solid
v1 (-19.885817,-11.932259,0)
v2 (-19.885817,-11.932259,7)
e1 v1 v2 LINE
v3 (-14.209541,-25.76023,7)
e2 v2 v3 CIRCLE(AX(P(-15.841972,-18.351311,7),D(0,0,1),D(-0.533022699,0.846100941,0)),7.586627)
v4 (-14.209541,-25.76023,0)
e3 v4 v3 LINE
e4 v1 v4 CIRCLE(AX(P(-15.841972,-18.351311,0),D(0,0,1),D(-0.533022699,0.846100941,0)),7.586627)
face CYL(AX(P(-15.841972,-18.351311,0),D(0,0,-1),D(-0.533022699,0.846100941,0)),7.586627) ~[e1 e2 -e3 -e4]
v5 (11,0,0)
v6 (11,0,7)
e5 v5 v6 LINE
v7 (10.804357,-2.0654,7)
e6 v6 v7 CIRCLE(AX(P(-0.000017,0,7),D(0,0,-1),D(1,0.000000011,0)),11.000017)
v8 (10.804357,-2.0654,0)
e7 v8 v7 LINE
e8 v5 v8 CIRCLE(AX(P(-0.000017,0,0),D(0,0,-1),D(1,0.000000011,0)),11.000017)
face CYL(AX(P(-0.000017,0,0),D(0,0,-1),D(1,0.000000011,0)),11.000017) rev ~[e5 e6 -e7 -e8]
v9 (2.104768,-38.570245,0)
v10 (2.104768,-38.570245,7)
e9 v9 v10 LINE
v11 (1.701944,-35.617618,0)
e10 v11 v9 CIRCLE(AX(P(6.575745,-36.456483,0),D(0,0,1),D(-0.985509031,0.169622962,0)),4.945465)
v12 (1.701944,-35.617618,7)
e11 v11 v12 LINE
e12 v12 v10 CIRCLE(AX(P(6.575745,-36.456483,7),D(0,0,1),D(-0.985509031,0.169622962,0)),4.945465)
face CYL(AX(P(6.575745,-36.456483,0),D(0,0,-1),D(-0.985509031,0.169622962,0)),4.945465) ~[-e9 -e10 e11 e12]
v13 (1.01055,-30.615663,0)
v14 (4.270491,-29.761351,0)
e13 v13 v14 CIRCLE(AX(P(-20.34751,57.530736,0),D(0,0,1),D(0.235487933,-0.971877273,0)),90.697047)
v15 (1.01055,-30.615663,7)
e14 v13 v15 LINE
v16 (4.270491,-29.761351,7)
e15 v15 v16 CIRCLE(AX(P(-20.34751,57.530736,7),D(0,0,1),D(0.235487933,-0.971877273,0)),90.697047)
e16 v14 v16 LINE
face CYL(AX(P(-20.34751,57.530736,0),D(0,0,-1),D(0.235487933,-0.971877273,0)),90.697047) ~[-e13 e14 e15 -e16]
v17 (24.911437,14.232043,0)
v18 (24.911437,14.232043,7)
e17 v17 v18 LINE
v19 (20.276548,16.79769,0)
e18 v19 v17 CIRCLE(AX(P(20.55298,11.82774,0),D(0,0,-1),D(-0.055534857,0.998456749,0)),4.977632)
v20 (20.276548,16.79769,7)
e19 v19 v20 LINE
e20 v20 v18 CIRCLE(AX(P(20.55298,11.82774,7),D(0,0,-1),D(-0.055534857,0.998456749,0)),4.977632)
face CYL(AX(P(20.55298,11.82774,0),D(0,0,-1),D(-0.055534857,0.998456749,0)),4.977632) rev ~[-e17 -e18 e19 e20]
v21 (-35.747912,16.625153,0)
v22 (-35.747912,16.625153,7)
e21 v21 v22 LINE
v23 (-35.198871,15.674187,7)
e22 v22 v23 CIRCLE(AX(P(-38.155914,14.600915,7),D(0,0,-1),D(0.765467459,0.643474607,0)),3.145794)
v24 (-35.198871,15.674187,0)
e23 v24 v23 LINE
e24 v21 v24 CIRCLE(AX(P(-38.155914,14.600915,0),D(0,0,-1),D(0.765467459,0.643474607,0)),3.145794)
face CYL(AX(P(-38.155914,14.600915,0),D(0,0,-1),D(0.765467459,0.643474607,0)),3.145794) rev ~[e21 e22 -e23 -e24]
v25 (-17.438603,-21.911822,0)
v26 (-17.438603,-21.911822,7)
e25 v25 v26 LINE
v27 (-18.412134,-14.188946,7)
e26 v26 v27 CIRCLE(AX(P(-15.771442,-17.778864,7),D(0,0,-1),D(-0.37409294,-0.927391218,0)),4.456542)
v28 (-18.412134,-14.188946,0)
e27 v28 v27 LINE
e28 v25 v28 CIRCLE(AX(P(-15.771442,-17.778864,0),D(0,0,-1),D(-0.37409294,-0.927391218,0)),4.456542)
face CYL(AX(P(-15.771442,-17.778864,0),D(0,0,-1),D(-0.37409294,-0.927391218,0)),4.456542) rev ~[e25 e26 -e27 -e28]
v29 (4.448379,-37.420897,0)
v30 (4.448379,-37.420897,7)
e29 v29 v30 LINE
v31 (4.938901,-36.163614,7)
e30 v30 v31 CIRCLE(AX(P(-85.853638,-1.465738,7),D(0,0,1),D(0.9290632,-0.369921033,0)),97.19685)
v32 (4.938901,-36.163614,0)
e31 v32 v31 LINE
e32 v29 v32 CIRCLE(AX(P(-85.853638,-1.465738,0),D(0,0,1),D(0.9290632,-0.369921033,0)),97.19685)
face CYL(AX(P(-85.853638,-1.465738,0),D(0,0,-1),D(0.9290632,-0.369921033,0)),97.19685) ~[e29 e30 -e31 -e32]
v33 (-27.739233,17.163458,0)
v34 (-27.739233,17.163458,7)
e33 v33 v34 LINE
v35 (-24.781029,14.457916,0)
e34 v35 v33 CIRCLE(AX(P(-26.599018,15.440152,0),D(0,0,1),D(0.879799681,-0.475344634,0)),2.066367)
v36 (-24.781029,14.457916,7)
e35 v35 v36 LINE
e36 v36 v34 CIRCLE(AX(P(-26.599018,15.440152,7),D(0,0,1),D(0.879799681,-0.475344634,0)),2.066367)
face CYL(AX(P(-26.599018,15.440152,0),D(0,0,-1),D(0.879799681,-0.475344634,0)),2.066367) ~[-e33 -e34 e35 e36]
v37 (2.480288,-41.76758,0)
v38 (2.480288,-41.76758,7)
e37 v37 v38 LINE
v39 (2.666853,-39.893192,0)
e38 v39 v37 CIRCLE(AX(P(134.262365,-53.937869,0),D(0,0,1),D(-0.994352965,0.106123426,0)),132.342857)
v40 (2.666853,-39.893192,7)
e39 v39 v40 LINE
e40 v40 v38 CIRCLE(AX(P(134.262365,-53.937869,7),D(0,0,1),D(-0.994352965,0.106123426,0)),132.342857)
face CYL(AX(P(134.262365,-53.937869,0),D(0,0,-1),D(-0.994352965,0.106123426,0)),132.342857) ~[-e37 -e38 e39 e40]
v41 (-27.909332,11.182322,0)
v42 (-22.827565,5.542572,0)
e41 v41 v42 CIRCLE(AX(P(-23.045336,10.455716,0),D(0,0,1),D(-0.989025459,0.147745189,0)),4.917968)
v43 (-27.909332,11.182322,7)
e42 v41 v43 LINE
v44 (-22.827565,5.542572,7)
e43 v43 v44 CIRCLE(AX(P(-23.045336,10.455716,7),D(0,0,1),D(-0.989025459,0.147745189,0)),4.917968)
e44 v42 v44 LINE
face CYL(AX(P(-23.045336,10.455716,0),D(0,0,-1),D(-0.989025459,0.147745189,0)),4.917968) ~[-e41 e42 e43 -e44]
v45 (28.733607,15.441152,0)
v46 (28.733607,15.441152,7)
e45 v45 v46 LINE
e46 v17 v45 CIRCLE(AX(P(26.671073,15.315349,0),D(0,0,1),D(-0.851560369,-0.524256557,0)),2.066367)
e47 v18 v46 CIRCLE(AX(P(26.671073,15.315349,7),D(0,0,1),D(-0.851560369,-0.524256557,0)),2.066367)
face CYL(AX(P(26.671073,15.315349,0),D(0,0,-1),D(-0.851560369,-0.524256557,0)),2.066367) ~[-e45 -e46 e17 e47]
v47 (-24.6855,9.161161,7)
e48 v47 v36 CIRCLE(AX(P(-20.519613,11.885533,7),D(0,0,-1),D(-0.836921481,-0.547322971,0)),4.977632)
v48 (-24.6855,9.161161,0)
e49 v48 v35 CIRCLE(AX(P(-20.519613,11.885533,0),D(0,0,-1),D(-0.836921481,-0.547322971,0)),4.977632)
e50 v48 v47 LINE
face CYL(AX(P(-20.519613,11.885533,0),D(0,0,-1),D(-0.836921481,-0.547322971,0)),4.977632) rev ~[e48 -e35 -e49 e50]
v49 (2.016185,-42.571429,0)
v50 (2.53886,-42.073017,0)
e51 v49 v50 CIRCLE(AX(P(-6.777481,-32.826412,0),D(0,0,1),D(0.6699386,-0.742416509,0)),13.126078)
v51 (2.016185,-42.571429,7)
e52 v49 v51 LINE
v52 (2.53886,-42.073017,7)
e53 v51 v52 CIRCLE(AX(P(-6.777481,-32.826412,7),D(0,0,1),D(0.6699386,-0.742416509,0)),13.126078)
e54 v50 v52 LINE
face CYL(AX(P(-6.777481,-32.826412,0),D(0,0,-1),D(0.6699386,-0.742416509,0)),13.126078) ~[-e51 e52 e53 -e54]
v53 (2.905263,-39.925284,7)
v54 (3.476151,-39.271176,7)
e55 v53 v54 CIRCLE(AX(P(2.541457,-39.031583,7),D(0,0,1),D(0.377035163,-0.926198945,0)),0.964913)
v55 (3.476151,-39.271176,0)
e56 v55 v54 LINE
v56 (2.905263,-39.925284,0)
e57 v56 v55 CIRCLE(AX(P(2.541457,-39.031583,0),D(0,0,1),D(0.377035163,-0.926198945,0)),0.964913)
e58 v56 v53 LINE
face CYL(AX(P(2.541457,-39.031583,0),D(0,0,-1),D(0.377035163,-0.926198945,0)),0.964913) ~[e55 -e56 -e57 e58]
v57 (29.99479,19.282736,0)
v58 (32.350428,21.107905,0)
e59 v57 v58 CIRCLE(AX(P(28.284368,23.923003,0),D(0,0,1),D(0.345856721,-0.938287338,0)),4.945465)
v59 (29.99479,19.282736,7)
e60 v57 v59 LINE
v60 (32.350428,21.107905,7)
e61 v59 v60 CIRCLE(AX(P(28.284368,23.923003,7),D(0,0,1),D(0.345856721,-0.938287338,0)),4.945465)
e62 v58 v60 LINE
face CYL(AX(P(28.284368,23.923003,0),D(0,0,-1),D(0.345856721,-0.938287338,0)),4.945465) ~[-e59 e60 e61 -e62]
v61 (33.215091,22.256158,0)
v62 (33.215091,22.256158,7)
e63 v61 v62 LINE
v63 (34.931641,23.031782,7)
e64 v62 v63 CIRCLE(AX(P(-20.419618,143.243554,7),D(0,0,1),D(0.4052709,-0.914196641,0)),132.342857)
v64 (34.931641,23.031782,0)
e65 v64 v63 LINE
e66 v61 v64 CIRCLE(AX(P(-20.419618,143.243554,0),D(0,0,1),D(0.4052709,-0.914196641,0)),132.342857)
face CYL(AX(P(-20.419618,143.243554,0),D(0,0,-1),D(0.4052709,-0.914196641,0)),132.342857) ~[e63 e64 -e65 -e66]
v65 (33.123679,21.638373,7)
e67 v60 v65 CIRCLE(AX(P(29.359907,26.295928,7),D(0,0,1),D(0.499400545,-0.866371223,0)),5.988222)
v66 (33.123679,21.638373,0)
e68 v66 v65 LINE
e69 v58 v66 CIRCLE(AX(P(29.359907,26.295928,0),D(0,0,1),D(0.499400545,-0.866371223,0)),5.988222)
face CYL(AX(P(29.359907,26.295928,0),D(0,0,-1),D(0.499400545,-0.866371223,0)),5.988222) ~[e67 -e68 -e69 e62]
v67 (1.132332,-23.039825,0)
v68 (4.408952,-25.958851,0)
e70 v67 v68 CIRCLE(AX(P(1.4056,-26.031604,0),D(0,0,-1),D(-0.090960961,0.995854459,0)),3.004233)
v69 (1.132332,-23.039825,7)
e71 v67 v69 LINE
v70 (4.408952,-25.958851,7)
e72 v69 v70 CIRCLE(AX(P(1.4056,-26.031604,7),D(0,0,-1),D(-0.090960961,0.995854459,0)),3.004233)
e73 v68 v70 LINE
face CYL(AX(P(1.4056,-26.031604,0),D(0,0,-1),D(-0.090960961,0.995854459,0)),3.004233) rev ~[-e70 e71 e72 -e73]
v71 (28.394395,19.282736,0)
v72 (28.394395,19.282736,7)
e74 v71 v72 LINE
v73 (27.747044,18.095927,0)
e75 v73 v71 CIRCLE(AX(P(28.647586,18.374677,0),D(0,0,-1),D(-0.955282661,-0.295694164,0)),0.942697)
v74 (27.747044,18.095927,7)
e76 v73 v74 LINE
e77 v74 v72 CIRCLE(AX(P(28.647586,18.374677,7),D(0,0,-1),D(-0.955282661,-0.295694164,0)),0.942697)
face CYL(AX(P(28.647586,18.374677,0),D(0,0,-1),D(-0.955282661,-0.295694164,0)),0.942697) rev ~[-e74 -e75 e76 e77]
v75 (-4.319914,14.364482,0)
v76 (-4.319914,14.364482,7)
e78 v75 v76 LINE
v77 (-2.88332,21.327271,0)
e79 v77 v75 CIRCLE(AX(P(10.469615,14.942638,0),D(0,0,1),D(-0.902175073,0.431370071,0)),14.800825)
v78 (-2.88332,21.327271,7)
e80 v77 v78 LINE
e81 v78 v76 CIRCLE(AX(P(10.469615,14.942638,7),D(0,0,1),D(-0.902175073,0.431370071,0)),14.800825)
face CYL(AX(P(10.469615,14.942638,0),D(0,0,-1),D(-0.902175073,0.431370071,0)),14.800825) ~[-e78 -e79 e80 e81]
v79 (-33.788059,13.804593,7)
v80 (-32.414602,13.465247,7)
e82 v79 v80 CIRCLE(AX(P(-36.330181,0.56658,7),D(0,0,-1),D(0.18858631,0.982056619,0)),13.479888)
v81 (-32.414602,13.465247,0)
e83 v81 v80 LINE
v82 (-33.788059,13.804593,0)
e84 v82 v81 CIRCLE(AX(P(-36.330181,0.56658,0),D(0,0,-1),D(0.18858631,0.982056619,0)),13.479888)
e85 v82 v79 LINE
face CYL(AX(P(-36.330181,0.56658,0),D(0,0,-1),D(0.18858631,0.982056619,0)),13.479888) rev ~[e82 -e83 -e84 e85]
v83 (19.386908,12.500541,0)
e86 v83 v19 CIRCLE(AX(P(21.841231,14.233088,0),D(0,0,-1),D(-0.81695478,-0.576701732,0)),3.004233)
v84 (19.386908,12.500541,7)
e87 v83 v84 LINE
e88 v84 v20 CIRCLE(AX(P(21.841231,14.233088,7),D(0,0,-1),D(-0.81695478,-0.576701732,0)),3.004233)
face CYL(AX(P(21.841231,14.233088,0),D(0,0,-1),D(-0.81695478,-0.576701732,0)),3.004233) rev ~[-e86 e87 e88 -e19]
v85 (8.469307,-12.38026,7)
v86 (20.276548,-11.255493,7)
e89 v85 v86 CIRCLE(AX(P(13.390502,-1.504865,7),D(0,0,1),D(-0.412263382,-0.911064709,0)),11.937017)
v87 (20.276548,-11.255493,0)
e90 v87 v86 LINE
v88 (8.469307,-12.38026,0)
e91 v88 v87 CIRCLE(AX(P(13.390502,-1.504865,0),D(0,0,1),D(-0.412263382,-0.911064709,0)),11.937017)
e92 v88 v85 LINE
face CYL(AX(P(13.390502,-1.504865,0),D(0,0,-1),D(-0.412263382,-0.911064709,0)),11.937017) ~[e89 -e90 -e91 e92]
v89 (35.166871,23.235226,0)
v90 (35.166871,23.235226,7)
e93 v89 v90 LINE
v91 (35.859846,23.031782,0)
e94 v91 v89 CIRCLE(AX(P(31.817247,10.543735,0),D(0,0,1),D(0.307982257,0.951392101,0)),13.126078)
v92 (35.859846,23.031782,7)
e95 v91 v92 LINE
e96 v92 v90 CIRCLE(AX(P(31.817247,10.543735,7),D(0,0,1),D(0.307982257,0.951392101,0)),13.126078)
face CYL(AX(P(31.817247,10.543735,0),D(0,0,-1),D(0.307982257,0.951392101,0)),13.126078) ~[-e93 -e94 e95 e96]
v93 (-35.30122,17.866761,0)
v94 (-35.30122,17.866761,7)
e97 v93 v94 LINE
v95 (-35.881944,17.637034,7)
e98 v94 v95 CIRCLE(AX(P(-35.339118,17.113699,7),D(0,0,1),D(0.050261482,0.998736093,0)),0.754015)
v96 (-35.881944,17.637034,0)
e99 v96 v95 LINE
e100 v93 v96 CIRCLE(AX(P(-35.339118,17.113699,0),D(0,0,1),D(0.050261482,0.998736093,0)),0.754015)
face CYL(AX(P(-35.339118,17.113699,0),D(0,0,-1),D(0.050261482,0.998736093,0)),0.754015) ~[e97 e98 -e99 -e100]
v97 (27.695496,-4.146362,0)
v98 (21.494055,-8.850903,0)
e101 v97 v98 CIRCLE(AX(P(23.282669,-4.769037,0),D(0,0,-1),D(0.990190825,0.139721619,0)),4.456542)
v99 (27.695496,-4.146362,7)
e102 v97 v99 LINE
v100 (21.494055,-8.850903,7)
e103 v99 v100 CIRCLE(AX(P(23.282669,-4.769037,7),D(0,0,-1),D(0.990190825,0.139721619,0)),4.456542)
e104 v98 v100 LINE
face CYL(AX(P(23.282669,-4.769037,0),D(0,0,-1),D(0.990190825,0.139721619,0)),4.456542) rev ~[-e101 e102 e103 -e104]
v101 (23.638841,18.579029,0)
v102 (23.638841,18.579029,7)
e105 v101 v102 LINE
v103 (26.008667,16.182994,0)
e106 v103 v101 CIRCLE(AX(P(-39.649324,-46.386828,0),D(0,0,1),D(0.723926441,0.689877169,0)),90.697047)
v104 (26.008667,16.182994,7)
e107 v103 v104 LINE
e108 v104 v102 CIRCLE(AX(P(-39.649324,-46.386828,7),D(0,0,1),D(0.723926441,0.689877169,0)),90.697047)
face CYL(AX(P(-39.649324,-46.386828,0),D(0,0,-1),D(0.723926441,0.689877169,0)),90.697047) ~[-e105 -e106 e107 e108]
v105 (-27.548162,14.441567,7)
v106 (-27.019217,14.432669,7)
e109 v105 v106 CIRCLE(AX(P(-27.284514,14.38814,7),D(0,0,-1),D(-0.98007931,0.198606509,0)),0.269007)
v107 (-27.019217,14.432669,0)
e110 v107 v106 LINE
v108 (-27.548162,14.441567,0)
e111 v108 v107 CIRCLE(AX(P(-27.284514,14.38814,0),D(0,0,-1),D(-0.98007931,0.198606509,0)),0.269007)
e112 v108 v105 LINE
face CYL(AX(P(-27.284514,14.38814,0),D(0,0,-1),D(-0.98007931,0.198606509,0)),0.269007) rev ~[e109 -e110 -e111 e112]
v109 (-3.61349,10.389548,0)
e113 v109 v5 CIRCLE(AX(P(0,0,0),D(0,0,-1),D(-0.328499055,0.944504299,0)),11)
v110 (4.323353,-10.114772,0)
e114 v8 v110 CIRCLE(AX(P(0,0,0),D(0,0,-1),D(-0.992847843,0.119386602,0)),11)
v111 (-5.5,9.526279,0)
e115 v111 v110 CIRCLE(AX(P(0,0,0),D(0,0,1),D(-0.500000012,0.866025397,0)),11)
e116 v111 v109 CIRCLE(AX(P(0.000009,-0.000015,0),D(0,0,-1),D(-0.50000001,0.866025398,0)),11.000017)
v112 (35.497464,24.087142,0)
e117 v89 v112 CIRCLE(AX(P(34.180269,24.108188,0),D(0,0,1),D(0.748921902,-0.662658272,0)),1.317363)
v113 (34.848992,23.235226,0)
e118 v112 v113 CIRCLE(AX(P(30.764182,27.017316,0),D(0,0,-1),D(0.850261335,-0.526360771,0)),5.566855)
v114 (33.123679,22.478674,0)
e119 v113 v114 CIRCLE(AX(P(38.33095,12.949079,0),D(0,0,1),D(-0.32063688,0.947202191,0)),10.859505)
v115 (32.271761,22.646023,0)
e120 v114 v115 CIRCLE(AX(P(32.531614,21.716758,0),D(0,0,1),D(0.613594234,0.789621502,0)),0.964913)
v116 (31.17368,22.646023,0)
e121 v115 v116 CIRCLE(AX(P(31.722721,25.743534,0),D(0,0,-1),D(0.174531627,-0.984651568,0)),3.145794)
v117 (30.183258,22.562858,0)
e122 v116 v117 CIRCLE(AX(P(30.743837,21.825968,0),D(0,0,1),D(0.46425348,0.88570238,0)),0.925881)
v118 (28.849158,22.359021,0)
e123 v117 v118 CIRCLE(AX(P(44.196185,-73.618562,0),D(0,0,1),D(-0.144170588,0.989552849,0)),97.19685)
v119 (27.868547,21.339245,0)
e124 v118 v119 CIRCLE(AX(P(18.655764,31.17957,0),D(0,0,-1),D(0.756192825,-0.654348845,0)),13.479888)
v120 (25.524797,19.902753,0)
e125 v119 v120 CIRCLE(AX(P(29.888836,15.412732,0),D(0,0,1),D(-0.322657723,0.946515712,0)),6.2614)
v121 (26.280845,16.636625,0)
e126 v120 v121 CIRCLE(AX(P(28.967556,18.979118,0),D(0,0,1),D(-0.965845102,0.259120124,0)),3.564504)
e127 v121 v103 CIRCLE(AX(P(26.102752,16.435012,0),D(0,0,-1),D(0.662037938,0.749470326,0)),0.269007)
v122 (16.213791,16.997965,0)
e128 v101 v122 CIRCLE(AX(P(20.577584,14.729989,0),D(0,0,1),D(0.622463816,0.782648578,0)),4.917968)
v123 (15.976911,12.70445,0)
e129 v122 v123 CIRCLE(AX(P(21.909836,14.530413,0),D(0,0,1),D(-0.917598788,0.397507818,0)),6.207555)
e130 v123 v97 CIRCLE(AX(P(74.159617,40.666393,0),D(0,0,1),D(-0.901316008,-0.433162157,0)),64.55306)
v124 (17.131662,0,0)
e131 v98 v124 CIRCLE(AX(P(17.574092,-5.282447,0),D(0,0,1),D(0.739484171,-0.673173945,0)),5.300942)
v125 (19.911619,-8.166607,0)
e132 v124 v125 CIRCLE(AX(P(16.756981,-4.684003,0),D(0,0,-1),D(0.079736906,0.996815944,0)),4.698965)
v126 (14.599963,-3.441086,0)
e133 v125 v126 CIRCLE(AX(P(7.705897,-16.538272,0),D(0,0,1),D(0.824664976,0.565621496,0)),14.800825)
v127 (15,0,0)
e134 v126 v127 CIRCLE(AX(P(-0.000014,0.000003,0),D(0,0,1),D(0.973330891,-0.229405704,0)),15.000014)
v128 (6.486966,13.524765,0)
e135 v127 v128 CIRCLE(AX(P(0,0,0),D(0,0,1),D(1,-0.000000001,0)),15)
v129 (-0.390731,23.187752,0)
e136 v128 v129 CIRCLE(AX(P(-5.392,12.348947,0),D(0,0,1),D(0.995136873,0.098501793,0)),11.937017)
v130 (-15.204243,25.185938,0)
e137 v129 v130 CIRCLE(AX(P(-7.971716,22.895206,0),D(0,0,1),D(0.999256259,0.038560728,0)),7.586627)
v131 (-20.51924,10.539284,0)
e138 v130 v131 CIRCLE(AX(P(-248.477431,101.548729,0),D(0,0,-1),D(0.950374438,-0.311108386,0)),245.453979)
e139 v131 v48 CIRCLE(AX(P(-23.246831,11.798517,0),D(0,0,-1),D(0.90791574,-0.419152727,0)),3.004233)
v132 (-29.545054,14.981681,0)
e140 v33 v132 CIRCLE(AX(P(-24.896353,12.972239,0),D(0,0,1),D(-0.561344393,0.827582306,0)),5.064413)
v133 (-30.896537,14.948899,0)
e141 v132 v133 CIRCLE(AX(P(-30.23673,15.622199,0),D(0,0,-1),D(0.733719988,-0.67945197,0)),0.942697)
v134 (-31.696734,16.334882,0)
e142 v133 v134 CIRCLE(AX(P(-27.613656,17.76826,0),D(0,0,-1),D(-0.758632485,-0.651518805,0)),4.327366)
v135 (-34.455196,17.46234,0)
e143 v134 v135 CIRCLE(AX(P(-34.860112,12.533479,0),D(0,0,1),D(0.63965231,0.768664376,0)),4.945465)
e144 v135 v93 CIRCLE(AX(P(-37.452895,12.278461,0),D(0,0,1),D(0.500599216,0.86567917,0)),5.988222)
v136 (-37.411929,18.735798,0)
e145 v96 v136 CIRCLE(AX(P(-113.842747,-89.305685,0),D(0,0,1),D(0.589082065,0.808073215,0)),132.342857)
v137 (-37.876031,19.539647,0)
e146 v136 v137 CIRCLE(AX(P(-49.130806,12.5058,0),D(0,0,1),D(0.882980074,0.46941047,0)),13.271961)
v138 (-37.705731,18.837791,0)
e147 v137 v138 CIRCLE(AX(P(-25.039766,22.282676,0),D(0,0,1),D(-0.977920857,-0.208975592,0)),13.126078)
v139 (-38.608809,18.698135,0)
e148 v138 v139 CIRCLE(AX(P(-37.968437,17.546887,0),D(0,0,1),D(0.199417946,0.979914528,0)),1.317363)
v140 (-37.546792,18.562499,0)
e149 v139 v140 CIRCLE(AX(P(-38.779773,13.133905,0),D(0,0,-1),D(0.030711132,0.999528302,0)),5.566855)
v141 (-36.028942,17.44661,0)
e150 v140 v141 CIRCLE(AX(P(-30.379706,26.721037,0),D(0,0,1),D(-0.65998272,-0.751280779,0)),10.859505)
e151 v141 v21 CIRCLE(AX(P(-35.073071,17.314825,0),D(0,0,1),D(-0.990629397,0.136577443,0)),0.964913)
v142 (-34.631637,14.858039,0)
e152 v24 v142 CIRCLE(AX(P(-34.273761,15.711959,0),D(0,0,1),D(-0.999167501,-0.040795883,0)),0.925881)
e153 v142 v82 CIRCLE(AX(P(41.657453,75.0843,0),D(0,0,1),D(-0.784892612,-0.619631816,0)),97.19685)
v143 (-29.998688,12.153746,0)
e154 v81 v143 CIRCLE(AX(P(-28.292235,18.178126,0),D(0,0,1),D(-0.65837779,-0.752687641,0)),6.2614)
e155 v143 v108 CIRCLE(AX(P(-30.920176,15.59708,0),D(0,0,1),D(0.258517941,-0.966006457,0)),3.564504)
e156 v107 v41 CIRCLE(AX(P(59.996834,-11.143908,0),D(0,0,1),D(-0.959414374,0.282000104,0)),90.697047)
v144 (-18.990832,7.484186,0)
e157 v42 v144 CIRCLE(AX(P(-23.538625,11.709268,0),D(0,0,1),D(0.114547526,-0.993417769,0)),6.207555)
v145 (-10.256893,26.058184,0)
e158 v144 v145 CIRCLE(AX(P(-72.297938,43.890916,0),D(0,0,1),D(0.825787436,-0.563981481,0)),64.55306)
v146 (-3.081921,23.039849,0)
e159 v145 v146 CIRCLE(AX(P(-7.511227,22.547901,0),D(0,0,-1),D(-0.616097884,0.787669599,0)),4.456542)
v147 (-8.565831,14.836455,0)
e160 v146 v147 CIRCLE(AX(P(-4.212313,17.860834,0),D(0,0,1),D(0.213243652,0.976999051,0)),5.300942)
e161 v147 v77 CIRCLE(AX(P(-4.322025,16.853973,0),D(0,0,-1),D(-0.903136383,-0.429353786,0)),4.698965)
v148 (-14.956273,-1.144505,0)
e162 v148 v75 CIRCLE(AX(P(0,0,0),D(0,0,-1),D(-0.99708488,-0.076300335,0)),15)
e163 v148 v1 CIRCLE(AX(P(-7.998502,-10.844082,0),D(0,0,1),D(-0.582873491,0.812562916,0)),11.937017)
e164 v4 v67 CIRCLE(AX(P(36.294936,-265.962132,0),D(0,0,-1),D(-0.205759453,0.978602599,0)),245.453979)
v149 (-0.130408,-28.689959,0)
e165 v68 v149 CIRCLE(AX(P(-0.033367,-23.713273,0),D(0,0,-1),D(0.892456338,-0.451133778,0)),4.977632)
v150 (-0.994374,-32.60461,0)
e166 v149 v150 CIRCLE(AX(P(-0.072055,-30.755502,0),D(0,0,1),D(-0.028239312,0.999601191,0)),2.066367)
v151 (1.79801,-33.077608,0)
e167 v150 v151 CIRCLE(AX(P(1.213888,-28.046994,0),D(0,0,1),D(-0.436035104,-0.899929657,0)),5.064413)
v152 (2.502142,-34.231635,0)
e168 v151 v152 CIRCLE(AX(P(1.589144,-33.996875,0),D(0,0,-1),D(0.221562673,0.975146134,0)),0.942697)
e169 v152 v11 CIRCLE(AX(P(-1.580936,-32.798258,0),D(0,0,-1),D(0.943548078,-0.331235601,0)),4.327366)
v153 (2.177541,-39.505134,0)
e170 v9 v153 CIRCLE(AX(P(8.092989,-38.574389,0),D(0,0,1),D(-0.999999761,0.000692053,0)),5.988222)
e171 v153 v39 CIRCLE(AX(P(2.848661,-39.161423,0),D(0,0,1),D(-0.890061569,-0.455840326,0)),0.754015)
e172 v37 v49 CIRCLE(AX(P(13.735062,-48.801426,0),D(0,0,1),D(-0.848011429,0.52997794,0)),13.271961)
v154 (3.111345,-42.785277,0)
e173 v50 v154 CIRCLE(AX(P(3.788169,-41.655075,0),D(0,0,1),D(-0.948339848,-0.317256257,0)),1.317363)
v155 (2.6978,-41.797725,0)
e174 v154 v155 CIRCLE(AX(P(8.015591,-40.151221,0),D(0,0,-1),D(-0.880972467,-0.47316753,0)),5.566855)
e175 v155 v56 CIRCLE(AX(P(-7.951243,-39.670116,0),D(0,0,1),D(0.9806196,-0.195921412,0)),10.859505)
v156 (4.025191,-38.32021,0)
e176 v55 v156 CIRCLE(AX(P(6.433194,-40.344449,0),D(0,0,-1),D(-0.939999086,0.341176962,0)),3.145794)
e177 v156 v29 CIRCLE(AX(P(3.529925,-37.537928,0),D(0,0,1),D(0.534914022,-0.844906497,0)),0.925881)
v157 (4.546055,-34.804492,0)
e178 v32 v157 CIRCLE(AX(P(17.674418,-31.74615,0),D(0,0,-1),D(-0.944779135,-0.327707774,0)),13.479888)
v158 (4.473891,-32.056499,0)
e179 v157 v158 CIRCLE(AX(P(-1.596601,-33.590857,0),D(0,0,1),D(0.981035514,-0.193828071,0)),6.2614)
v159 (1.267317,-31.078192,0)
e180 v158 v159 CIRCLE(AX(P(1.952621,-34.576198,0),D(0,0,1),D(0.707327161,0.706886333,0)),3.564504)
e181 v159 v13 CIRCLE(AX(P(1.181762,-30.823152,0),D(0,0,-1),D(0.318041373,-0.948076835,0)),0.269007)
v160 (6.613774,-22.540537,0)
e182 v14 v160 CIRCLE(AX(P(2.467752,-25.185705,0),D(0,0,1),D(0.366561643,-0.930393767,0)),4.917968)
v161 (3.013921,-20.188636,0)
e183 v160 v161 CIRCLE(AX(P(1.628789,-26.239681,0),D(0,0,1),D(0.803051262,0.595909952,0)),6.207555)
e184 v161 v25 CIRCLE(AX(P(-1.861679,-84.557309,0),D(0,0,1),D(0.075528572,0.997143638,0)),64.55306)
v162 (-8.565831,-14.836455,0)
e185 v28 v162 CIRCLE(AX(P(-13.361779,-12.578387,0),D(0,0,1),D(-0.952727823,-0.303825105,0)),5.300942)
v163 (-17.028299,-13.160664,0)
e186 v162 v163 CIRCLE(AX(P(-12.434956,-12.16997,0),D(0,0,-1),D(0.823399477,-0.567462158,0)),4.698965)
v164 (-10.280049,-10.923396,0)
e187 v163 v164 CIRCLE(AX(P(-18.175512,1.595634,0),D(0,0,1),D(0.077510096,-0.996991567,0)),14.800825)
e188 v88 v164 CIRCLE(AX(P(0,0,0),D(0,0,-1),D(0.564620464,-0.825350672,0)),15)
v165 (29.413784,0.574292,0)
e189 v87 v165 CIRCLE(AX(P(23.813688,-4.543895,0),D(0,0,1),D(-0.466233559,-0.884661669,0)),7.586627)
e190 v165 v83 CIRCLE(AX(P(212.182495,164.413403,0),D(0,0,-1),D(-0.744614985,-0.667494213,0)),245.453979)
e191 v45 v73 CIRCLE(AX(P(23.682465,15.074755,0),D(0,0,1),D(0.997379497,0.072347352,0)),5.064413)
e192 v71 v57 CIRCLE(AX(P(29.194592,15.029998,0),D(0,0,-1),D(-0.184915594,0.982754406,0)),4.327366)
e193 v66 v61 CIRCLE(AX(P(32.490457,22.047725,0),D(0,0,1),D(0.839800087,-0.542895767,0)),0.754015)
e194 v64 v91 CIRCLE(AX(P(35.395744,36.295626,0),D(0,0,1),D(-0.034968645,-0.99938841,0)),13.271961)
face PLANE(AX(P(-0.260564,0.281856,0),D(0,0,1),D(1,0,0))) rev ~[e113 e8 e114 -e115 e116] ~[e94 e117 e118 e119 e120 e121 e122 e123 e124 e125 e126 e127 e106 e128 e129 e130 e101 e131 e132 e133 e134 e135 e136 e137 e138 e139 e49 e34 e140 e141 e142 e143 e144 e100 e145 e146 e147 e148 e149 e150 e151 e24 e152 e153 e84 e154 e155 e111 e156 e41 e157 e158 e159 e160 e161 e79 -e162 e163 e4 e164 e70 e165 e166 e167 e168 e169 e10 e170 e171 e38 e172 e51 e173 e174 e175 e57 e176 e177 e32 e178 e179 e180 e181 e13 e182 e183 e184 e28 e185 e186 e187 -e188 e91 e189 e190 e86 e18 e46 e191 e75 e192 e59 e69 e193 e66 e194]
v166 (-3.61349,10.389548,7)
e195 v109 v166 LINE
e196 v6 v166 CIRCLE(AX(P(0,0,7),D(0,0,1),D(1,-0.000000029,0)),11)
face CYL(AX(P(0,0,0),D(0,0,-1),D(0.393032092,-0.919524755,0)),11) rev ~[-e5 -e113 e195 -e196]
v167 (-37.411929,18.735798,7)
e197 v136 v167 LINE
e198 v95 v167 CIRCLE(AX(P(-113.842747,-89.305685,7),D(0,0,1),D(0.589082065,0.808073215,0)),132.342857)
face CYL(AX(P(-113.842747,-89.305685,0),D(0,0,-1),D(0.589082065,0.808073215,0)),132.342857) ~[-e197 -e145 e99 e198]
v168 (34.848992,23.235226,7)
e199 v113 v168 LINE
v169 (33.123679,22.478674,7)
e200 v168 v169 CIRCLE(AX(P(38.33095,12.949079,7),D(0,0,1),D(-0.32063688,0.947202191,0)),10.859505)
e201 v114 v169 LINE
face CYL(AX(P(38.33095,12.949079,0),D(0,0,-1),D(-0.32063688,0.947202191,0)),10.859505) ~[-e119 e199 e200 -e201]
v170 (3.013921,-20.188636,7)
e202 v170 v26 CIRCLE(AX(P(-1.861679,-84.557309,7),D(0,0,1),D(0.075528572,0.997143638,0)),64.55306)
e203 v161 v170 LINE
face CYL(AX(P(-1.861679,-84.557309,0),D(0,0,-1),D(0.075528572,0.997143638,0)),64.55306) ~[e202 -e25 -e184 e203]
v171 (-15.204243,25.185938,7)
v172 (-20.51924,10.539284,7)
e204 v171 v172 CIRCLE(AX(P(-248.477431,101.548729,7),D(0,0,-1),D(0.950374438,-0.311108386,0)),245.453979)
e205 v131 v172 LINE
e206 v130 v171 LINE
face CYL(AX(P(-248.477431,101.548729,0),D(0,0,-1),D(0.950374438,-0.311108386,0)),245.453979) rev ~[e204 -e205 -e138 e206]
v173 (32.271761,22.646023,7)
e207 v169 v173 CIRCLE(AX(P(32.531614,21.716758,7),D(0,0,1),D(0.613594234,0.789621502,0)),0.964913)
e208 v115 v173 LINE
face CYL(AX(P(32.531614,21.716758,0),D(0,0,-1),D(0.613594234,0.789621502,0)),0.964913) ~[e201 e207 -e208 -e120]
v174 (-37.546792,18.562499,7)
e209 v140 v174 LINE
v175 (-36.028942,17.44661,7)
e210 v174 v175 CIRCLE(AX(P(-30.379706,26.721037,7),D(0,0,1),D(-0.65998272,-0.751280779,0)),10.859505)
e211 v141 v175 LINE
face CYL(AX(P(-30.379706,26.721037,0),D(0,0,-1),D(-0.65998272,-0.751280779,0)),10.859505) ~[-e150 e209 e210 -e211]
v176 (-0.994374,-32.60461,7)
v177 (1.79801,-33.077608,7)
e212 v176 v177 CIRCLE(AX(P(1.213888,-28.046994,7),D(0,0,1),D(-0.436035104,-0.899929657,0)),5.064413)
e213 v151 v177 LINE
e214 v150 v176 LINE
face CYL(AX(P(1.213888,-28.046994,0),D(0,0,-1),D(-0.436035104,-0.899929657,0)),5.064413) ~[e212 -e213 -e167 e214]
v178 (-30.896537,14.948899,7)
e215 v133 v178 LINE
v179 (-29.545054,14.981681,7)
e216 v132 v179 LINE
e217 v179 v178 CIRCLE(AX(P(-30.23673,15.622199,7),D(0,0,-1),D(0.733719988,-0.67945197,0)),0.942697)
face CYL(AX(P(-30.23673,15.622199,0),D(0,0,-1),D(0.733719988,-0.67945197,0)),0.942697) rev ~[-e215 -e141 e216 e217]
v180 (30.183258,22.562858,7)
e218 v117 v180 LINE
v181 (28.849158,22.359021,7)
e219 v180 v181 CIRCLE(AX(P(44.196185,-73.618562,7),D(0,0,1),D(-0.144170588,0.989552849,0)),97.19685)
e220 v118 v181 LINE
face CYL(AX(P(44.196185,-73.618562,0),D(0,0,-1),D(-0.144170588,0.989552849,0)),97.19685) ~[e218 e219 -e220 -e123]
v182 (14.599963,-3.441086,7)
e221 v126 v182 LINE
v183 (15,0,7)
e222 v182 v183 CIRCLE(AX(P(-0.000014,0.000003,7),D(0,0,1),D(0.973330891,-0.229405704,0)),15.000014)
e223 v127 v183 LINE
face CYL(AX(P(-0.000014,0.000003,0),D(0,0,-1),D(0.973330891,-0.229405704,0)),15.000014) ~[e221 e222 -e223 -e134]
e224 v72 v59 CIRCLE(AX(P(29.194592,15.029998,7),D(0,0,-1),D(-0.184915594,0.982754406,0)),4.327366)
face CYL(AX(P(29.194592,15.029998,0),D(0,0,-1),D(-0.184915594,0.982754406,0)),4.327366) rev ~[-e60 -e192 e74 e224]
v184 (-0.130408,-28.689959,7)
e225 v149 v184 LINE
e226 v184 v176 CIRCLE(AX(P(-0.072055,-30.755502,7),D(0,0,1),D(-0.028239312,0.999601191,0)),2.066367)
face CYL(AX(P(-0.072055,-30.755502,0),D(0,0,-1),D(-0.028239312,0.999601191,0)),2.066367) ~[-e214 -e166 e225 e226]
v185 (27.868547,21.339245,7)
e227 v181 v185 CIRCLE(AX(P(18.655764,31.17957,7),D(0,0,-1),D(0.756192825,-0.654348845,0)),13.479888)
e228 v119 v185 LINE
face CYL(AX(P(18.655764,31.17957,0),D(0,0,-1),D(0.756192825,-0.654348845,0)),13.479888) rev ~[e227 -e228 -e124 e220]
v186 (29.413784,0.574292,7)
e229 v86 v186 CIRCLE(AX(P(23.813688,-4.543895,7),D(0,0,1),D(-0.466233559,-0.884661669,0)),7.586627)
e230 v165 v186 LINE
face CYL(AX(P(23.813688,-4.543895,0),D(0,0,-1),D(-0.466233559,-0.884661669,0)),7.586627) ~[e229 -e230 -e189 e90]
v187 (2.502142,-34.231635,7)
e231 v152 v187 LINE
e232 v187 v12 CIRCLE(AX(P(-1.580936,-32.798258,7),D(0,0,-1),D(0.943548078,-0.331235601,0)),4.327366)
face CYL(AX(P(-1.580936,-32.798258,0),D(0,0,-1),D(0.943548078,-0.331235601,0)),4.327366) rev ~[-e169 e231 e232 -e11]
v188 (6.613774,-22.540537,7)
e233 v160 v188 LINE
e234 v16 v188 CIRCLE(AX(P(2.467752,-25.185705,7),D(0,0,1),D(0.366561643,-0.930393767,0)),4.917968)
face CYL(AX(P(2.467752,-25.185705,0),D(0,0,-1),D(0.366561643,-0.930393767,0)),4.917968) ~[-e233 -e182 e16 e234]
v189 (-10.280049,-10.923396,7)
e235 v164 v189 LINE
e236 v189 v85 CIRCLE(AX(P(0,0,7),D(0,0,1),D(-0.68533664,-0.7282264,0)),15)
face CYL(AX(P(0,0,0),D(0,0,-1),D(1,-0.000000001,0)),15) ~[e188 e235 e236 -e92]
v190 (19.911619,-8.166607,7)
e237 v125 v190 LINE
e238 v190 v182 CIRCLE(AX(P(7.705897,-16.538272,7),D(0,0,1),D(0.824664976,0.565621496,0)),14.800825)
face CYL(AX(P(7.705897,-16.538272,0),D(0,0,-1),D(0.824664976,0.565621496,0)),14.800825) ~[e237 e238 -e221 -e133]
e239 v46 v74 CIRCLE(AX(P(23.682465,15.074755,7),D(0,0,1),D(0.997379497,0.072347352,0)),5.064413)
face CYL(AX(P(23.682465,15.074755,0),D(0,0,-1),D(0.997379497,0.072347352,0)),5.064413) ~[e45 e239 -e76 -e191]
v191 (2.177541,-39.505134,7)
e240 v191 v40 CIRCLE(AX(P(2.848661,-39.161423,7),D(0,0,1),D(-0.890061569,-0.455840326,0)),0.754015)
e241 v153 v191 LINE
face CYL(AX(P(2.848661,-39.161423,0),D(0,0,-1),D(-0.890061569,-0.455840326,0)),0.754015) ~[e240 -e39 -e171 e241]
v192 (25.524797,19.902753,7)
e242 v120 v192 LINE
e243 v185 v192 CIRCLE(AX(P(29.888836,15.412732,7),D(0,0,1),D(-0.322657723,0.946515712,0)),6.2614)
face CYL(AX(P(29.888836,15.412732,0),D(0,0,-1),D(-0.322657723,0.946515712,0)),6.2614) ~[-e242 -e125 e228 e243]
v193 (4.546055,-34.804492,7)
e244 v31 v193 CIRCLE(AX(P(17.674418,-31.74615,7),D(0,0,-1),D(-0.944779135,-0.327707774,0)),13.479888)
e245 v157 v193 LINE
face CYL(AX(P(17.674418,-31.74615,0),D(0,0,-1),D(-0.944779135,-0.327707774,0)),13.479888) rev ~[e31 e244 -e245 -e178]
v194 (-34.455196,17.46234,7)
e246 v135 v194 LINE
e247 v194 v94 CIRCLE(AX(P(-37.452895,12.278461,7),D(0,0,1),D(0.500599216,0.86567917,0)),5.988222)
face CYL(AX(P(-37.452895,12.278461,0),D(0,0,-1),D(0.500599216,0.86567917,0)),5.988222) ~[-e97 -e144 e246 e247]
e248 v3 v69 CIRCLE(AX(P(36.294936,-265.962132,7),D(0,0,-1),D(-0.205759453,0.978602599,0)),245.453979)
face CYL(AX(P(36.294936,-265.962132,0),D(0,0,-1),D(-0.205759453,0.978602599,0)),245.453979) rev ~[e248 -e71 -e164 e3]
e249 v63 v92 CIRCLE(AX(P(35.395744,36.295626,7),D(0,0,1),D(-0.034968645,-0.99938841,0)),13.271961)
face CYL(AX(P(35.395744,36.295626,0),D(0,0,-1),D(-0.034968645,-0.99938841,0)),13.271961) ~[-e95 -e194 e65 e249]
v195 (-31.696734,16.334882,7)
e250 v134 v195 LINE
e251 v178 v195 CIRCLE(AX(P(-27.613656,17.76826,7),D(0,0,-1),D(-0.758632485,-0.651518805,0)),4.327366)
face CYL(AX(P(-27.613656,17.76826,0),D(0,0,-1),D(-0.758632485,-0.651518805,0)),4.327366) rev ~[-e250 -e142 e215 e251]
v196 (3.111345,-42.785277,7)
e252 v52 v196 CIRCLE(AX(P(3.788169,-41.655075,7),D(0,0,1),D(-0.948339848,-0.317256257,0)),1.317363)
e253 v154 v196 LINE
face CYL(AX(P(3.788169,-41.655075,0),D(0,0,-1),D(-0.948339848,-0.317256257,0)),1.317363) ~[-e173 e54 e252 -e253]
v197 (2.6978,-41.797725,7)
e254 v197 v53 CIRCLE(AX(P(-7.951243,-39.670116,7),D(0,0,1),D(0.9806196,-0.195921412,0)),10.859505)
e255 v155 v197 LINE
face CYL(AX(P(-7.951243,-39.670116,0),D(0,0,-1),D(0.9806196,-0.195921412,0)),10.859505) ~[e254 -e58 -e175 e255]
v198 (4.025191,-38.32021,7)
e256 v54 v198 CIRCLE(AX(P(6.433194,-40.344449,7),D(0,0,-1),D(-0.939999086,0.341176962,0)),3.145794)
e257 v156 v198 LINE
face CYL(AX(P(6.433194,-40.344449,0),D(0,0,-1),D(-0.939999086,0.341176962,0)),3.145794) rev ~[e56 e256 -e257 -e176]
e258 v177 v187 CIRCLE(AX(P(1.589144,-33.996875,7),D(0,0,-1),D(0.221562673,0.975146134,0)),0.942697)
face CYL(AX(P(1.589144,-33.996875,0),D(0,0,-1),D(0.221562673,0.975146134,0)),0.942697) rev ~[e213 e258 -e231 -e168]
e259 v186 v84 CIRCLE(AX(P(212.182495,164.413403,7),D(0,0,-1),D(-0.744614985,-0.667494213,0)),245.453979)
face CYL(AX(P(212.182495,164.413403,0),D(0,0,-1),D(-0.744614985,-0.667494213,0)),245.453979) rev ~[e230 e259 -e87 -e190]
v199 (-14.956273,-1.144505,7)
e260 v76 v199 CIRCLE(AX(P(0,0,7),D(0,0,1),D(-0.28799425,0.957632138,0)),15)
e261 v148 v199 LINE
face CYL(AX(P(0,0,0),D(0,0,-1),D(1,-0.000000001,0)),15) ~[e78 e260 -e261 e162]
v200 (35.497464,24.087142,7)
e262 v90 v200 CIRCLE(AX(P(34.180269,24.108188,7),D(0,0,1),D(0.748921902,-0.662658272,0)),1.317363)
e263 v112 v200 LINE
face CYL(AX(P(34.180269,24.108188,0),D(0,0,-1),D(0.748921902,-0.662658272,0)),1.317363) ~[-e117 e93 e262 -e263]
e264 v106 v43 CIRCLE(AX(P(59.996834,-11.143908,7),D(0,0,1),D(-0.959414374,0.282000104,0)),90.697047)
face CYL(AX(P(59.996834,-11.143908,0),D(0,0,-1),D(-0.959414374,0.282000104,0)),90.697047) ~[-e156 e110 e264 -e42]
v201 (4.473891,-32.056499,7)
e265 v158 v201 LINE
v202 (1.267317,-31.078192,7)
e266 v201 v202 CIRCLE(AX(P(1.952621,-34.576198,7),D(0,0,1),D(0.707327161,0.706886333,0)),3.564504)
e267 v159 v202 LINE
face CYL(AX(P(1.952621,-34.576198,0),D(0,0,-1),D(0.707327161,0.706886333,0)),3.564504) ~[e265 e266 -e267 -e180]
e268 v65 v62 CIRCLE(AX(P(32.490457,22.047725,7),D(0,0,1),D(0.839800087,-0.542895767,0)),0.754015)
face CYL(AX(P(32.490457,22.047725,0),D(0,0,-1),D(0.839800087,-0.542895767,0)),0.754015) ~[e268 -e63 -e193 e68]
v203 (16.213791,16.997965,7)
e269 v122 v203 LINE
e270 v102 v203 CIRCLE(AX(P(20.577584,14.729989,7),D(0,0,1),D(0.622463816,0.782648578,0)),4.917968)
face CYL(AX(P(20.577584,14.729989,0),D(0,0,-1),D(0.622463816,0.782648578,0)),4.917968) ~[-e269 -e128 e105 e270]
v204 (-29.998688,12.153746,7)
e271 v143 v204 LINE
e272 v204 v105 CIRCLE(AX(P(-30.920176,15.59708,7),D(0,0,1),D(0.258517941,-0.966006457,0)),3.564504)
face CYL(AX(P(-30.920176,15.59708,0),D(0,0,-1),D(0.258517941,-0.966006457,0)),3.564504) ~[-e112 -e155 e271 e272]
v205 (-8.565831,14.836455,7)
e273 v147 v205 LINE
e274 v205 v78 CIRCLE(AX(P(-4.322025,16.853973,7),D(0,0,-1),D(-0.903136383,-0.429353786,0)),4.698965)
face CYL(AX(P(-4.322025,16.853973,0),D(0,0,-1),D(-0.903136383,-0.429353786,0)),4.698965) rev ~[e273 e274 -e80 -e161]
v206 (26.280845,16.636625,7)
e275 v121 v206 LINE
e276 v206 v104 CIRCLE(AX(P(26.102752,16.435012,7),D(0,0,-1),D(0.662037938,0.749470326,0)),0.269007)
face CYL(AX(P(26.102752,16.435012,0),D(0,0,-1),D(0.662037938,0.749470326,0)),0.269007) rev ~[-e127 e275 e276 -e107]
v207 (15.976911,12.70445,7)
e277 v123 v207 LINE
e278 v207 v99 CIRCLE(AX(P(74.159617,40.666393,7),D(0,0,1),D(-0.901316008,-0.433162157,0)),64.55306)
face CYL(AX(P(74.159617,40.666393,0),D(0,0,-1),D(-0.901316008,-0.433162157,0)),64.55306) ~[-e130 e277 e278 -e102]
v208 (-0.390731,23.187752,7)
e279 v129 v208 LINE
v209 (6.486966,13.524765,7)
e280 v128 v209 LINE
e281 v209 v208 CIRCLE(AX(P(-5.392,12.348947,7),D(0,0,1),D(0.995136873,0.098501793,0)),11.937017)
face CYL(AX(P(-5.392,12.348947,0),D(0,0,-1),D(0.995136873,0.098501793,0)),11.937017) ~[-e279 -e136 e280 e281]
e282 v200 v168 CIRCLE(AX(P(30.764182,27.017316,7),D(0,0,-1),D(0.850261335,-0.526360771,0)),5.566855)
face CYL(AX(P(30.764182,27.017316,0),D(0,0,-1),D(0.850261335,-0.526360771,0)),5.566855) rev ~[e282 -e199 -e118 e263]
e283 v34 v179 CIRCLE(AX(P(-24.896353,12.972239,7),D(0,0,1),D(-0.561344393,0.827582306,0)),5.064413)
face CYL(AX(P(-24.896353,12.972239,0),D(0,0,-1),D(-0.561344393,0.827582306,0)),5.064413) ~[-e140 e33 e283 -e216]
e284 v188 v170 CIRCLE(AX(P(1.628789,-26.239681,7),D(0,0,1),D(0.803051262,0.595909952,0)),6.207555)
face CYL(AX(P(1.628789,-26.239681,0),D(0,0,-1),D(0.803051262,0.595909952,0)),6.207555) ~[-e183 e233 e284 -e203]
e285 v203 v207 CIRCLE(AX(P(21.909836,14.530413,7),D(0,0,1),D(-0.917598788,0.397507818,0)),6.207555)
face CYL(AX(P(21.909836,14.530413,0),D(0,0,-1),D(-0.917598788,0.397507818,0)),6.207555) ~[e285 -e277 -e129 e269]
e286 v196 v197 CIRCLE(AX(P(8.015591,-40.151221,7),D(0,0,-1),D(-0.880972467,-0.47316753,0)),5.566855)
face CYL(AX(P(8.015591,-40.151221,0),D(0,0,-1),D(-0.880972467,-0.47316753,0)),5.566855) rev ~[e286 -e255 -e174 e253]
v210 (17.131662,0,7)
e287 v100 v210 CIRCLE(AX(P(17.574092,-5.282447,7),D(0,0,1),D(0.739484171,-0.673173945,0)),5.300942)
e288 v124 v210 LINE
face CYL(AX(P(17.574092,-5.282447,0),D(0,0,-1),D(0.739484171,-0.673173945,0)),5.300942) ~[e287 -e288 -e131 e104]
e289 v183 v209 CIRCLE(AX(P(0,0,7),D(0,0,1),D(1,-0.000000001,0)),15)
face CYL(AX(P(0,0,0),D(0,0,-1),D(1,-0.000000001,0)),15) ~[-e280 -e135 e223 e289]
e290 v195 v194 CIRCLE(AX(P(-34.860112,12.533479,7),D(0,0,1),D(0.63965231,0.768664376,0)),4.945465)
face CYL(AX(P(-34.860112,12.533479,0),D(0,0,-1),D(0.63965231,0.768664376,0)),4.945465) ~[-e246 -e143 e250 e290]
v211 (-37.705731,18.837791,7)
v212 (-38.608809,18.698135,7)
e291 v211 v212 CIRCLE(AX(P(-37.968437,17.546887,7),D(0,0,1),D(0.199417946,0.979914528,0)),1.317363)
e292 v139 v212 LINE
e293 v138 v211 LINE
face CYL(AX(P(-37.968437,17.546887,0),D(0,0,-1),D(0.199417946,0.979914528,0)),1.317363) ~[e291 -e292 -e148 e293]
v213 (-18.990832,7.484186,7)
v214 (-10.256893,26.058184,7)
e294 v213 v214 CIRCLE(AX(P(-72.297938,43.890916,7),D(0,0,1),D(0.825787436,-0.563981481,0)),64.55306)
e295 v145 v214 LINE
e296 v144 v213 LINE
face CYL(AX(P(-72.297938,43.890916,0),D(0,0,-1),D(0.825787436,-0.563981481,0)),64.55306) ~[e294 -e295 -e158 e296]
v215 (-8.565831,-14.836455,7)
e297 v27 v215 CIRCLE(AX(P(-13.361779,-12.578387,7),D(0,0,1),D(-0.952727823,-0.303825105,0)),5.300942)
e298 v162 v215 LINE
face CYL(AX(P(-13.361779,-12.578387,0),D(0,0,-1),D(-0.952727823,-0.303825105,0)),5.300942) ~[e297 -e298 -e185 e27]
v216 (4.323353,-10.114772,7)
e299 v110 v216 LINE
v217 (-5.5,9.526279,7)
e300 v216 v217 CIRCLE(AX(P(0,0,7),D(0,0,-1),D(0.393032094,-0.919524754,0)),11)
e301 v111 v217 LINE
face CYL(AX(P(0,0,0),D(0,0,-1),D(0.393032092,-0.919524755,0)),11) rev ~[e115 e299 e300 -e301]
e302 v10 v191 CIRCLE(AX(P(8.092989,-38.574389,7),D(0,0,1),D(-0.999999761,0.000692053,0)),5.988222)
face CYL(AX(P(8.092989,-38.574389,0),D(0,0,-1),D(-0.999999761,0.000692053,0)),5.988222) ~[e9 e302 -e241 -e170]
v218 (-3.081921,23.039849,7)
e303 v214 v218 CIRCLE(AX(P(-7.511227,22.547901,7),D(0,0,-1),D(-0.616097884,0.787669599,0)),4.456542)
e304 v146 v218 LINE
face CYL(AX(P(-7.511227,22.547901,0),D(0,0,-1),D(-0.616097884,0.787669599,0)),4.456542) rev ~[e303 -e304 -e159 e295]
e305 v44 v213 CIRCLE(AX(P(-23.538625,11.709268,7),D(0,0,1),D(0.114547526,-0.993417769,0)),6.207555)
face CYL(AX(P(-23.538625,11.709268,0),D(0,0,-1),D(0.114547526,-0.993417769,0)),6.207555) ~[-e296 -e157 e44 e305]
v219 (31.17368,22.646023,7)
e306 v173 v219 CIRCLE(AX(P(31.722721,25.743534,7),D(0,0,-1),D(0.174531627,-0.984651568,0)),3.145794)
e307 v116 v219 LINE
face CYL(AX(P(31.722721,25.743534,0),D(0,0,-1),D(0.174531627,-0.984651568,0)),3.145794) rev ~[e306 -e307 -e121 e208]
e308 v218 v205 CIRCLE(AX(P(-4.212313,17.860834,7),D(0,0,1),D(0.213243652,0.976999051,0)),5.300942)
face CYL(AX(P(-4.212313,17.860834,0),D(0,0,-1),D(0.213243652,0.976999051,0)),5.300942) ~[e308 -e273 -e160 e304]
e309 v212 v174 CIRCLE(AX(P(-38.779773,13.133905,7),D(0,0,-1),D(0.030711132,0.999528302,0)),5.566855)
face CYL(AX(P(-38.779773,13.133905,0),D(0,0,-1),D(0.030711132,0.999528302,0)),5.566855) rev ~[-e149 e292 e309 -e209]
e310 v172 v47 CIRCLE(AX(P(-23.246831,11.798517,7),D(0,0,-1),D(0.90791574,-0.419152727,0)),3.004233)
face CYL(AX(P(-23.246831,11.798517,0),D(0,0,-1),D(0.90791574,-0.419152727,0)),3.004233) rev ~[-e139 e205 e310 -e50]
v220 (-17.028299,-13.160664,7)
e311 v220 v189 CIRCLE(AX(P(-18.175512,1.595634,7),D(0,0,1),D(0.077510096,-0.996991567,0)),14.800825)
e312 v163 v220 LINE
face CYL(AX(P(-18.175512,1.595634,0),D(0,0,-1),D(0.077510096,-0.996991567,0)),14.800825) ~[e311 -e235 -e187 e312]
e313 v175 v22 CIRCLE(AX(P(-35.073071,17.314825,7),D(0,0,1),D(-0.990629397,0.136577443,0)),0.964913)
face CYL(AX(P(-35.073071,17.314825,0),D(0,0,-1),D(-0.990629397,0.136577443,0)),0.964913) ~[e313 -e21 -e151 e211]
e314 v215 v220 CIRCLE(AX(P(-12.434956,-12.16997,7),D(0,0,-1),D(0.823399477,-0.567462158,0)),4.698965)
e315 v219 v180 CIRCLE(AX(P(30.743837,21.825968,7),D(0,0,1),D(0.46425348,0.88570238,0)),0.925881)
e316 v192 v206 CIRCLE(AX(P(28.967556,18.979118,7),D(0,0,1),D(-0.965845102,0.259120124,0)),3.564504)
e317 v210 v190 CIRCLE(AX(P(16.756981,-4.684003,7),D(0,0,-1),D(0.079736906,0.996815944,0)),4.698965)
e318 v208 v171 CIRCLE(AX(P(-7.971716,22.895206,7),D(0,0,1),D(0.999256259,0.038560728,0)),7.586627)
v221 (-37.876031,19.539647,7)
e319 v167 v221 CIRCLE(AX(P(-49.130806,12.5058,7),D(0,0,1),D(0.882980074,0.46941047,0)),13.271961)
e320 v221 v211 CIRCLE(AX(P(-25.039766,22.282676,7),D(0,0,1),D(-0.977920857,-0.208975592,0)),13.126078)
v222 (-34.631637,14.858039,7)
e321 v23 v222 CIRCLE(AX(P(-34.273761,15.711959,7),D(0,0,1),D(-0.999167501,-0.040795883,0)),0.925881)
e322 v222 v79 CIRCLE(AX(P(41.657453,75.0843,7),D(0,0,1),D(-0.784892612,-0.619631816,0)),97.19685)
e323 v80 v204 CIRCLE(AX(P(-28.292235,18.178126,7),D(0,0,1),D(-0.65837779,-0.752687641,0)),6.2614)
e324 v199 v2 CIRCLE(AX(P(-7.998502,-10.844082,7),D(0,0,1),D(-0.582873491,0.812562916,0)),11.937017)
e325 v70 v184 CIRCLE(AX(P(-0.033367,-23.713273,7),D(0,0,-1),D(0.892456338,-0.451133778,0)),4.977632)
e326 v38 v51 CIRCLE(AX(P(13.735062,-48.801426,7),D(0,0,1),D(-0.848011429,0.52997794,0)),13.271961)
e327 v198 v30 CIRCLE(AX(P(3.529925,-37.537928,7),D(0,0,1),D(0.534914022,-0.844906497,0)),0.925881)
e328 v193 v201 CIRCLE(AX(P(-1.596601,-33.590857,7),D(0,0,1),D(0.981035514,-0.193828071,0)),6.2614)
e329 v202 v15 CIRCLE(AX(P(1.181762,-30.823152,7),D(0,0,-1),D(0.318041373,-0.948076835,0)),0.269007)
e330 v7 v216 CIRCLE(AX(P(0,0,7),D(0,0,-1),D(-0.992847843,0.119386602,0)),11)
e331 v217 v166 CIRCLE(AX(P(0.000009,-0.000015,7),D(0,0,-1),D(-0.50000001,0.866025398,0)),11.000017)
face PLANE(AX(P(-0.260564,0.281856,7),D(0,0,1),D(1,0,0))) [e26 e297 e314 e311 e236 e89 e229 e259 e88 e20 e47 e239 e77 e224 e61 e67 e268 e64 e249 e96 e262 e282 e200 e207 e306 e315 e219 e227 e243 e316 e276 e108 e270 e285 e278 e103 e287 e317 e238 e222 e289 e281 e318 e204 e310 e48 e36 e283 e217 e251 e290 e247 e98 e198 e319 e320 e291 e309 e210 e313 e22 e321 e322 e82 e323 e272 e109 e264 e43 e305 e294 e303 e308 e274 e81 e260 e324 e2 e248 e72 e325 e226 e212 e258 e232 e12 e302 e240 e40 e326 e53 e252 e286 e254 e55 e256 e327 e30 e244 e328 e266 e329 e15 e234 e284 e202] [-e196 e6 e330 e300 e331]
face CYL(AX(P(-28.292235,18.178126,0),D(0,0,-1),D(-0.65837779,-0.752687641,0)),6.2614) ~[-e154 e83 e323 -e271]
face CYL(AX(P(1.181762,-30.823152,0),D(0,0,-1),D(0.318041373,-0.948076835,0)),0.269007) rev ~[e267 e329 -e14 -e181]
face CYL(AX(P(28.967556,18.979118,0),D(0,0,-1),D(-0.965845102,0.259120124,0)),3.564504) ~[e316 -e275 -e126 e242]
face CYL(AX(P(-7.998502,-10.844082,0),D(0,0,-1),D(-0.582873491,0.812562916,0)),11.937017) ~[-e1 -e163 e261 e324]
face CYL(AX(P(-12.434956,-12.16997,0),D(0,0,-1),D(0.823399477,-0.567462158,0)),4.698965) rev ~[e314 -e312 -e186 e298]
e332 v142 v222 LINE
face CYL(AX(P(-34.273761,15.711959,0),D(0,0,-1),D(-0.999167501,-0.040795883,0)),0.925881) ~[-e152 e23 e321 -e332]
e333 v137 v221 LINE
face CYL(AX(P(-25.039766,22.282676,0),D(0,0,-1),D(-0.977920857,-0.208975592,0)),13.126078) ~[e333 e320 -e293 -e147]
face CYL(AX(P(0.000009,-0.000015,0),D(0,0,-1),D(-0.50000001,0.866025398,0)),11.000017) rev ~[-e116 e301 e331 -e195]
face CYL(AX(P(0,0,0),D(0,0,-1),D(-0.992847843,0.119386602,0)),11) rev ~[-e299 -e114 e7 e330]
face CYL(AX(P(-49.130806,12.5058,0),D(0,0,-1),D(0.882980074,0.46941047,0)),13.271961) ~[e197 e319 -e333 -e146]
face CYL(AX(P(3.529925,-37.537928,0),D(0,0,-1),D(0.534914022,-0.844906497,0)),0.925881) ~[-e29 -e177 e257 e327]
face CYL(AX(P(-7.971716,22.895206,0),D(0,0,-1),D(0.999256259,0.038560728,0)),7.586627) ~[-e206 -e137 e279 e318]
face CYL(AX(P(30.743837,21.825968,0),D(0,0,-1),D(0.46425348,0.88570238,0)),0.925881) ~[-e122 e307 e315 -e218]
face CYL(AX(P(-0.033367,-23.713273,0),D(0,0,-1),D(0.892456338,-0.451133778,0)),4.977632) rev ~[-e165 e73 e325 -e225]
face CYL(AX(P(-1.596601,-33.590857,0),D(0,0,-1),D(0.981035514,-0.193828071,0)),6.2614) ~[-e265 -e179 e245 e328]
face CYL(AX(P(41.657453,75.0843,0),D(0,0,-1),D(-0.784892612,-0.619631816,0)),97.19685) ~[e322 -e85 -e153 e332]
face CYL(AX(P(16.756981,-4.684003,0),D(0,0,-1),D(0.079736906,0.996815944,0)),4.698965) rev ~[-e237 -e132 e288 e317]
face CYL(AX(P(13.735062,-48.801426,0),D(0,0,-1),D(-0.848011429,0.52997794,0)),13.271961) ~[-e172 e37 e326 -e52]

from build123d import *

# Parameters (mm, degrees)
F1_DEPTH = 7
F2_COUNT = 3


with BuildPart() as f1:
    # F0 (on Top) → F1 (new body)
    with BuildSketch(Plane.XY):
        with BuildLine():
            ThreePointArc((19.911619, -8.166607), (17.543738, -5.480184), (14.599963, -3.441086))
            ThreePointArc((14.599963, -3.441086), (12.370328, -8.483807), (8.469307, -12.38026))
            ThreePointArc((8.469307, -12.38026), (14.522507, -13.388086), (20.276548, -11.255493))
            ThreePointArc((20.276548, -11.255493), (29.817845, -9.18146), (29.413784, 0.574292))
            ThreePointArc((29.413784, 0.574292), (24.305689, 6.457834), (19.386908, 12.500541))
            ThreePointArc((19.386908, 12.500541), (18.899382, 14.842139), (20.276548, 16.79769))
            ThreePointArc((20.276548, 16.79769), (22.963658, 16.182674), (24.911437, 14.232043))
            ThreePointArc((24.911437, 14.232043), (27.294309, 13.34521), (28.733607, 15.441152))
            ThreePointArc((28.733607, 15.441152), (28.42968, 16.838907), (27.747044, 18.095927))
            ThreePointArc((27.747044, 18.095927), (27.819997, 18.82609), (28.394395, 19.282736))
            ThreePointArc((28.394395, 19.282736), (29.194592, 19.357364), (29.99479, 19.282736))
            ThreePointArc((29.99479, 19.282736), (31.313352, 20.013671), (32.350428, 21.107905))
            ThreePointArc((32.350428, 21.107905), (32.747453, 21.35798), (33.123679, 21.638373))
            ThreePointArc((33.123679, 21.638373), (33.236351, 21.937357), (33.215091, 22.256158))
            ThreePointArc((33.215091, 22.256158), (34.074746, 22.640916), (34.931641, 23.031782))
            ThreePointArc((34.931641, 23.031782), (35.395743, 23.023665), (35.859846, 23.031782))
            ThreePointArc((35.859846, 23.031782), (35.514758, 23.138271), (35.166871, 23.235226))
            ThreePointArc((35.166871, 23.235226), (35.408402, 23.631601), (35.497464, 24.087142))
            ThreePointArc((35.497464, 24.087142), (35.193756, 23.645558), (34.848992, 23.235226))
            ThreePointArc((34.848992, 23.235226), (33.969899, 22.894434), (33.123679, 22.478674))
            ThreePointArc((33.123679, 22.478674), (32.717605, 22.663576), (32.271761, 22.646023))
            ThreePointArc((32.271761, 22.646023), (31.722721, 22.59774), (31.17368, 22.646023))
            ThreePointArc((31.17368, 22.646023), (30.666364, 22.748602), (30.183258, 22.562858))
            ThreePointArc((30.183258, 22.562858), (29.515854, 22.463255), (28.849158, 22.359021))
            ThreePointArc((28.849158, 22.359021), (28.37224, 21.836259), (27.868547, 21.339245))
            ThreePointArc((27.868547, 21.339245), (26.616866, 20.751209), (25.524797, 19.902753))
            ThreePointArc((25.524797, 19.902753), (25.494877, 18.175258), (26.280845, 16.636625))
            ThreePointArc((26.280845, 16.636625), (26.333424, 16.296609), (26.008667, 16.182994))
            ThreePointArc((26.008667, 16.182994), (24.834884, 17.392019), (23.638841, 18.579029))
            ThreePointArc((23.638841, 18.579029), (19.553333, 19.540115), (16.213791, 16.997965))
            ThreePointArc((16.213791, 16.997965), (15.711707, 14.872374), (15.976911, 12.70445))
            ThreePointArc((15.976911, 12.70445), (21.162192, 3.810315), (27.695496, -4.146362))
            ThreePointArc((27.695496, -4.146362), (25.976142, -8.319526), (21.494055, -8.850903))
            ThreePointArc((21.494055, -8.850903), (22.328872, -2.938933), (17.131662, 0))
            ThreePointArc((17.131662, 0), (21.205283, -3.169777), (19.911619, -8.166607))
        make_face()
        with BuildLine():
            ThreePointArc((4.323353, -10.114772), (-9.180329, 6.059832), (11, 0))
            ThreePointArc((11, 0), (10.95098, -1.037323), (10.804357, -2.0654))
            ThreePointArc((10.804357, -2.0654), (12.749286, -2.62322), (14.599963, -3.441086))
            ThreePointArc((14.599963, -3.441086), (14.899655, -1.73213), (15, 0))
            ThreePointArc((15, 0), (-13.267245, 6.998586), (8.469307, -12.38026))
            ThreePointArc((8.469307, -12.38026), (8.380036, -12.339422), (8.291104, -12.29785))
            ThreePointArc((8.291104, -12.29785), (6.23471, -11.338114), (4.323353, -10.114772))
        make_face()
    extrude(amount=F1_DEPTH)

    # F2: F1 ×3 about axis
    f2_axis = Axis((0, 0, 0), (0, 0, -1))


with BuildPart() as f1_1:
    add(f1.part)
    for i in range(1, F2_COUNT):
        add(f1.part.rotate(f2_axis, i * 360 / F2_COUNT))


solid = f1_1.part
